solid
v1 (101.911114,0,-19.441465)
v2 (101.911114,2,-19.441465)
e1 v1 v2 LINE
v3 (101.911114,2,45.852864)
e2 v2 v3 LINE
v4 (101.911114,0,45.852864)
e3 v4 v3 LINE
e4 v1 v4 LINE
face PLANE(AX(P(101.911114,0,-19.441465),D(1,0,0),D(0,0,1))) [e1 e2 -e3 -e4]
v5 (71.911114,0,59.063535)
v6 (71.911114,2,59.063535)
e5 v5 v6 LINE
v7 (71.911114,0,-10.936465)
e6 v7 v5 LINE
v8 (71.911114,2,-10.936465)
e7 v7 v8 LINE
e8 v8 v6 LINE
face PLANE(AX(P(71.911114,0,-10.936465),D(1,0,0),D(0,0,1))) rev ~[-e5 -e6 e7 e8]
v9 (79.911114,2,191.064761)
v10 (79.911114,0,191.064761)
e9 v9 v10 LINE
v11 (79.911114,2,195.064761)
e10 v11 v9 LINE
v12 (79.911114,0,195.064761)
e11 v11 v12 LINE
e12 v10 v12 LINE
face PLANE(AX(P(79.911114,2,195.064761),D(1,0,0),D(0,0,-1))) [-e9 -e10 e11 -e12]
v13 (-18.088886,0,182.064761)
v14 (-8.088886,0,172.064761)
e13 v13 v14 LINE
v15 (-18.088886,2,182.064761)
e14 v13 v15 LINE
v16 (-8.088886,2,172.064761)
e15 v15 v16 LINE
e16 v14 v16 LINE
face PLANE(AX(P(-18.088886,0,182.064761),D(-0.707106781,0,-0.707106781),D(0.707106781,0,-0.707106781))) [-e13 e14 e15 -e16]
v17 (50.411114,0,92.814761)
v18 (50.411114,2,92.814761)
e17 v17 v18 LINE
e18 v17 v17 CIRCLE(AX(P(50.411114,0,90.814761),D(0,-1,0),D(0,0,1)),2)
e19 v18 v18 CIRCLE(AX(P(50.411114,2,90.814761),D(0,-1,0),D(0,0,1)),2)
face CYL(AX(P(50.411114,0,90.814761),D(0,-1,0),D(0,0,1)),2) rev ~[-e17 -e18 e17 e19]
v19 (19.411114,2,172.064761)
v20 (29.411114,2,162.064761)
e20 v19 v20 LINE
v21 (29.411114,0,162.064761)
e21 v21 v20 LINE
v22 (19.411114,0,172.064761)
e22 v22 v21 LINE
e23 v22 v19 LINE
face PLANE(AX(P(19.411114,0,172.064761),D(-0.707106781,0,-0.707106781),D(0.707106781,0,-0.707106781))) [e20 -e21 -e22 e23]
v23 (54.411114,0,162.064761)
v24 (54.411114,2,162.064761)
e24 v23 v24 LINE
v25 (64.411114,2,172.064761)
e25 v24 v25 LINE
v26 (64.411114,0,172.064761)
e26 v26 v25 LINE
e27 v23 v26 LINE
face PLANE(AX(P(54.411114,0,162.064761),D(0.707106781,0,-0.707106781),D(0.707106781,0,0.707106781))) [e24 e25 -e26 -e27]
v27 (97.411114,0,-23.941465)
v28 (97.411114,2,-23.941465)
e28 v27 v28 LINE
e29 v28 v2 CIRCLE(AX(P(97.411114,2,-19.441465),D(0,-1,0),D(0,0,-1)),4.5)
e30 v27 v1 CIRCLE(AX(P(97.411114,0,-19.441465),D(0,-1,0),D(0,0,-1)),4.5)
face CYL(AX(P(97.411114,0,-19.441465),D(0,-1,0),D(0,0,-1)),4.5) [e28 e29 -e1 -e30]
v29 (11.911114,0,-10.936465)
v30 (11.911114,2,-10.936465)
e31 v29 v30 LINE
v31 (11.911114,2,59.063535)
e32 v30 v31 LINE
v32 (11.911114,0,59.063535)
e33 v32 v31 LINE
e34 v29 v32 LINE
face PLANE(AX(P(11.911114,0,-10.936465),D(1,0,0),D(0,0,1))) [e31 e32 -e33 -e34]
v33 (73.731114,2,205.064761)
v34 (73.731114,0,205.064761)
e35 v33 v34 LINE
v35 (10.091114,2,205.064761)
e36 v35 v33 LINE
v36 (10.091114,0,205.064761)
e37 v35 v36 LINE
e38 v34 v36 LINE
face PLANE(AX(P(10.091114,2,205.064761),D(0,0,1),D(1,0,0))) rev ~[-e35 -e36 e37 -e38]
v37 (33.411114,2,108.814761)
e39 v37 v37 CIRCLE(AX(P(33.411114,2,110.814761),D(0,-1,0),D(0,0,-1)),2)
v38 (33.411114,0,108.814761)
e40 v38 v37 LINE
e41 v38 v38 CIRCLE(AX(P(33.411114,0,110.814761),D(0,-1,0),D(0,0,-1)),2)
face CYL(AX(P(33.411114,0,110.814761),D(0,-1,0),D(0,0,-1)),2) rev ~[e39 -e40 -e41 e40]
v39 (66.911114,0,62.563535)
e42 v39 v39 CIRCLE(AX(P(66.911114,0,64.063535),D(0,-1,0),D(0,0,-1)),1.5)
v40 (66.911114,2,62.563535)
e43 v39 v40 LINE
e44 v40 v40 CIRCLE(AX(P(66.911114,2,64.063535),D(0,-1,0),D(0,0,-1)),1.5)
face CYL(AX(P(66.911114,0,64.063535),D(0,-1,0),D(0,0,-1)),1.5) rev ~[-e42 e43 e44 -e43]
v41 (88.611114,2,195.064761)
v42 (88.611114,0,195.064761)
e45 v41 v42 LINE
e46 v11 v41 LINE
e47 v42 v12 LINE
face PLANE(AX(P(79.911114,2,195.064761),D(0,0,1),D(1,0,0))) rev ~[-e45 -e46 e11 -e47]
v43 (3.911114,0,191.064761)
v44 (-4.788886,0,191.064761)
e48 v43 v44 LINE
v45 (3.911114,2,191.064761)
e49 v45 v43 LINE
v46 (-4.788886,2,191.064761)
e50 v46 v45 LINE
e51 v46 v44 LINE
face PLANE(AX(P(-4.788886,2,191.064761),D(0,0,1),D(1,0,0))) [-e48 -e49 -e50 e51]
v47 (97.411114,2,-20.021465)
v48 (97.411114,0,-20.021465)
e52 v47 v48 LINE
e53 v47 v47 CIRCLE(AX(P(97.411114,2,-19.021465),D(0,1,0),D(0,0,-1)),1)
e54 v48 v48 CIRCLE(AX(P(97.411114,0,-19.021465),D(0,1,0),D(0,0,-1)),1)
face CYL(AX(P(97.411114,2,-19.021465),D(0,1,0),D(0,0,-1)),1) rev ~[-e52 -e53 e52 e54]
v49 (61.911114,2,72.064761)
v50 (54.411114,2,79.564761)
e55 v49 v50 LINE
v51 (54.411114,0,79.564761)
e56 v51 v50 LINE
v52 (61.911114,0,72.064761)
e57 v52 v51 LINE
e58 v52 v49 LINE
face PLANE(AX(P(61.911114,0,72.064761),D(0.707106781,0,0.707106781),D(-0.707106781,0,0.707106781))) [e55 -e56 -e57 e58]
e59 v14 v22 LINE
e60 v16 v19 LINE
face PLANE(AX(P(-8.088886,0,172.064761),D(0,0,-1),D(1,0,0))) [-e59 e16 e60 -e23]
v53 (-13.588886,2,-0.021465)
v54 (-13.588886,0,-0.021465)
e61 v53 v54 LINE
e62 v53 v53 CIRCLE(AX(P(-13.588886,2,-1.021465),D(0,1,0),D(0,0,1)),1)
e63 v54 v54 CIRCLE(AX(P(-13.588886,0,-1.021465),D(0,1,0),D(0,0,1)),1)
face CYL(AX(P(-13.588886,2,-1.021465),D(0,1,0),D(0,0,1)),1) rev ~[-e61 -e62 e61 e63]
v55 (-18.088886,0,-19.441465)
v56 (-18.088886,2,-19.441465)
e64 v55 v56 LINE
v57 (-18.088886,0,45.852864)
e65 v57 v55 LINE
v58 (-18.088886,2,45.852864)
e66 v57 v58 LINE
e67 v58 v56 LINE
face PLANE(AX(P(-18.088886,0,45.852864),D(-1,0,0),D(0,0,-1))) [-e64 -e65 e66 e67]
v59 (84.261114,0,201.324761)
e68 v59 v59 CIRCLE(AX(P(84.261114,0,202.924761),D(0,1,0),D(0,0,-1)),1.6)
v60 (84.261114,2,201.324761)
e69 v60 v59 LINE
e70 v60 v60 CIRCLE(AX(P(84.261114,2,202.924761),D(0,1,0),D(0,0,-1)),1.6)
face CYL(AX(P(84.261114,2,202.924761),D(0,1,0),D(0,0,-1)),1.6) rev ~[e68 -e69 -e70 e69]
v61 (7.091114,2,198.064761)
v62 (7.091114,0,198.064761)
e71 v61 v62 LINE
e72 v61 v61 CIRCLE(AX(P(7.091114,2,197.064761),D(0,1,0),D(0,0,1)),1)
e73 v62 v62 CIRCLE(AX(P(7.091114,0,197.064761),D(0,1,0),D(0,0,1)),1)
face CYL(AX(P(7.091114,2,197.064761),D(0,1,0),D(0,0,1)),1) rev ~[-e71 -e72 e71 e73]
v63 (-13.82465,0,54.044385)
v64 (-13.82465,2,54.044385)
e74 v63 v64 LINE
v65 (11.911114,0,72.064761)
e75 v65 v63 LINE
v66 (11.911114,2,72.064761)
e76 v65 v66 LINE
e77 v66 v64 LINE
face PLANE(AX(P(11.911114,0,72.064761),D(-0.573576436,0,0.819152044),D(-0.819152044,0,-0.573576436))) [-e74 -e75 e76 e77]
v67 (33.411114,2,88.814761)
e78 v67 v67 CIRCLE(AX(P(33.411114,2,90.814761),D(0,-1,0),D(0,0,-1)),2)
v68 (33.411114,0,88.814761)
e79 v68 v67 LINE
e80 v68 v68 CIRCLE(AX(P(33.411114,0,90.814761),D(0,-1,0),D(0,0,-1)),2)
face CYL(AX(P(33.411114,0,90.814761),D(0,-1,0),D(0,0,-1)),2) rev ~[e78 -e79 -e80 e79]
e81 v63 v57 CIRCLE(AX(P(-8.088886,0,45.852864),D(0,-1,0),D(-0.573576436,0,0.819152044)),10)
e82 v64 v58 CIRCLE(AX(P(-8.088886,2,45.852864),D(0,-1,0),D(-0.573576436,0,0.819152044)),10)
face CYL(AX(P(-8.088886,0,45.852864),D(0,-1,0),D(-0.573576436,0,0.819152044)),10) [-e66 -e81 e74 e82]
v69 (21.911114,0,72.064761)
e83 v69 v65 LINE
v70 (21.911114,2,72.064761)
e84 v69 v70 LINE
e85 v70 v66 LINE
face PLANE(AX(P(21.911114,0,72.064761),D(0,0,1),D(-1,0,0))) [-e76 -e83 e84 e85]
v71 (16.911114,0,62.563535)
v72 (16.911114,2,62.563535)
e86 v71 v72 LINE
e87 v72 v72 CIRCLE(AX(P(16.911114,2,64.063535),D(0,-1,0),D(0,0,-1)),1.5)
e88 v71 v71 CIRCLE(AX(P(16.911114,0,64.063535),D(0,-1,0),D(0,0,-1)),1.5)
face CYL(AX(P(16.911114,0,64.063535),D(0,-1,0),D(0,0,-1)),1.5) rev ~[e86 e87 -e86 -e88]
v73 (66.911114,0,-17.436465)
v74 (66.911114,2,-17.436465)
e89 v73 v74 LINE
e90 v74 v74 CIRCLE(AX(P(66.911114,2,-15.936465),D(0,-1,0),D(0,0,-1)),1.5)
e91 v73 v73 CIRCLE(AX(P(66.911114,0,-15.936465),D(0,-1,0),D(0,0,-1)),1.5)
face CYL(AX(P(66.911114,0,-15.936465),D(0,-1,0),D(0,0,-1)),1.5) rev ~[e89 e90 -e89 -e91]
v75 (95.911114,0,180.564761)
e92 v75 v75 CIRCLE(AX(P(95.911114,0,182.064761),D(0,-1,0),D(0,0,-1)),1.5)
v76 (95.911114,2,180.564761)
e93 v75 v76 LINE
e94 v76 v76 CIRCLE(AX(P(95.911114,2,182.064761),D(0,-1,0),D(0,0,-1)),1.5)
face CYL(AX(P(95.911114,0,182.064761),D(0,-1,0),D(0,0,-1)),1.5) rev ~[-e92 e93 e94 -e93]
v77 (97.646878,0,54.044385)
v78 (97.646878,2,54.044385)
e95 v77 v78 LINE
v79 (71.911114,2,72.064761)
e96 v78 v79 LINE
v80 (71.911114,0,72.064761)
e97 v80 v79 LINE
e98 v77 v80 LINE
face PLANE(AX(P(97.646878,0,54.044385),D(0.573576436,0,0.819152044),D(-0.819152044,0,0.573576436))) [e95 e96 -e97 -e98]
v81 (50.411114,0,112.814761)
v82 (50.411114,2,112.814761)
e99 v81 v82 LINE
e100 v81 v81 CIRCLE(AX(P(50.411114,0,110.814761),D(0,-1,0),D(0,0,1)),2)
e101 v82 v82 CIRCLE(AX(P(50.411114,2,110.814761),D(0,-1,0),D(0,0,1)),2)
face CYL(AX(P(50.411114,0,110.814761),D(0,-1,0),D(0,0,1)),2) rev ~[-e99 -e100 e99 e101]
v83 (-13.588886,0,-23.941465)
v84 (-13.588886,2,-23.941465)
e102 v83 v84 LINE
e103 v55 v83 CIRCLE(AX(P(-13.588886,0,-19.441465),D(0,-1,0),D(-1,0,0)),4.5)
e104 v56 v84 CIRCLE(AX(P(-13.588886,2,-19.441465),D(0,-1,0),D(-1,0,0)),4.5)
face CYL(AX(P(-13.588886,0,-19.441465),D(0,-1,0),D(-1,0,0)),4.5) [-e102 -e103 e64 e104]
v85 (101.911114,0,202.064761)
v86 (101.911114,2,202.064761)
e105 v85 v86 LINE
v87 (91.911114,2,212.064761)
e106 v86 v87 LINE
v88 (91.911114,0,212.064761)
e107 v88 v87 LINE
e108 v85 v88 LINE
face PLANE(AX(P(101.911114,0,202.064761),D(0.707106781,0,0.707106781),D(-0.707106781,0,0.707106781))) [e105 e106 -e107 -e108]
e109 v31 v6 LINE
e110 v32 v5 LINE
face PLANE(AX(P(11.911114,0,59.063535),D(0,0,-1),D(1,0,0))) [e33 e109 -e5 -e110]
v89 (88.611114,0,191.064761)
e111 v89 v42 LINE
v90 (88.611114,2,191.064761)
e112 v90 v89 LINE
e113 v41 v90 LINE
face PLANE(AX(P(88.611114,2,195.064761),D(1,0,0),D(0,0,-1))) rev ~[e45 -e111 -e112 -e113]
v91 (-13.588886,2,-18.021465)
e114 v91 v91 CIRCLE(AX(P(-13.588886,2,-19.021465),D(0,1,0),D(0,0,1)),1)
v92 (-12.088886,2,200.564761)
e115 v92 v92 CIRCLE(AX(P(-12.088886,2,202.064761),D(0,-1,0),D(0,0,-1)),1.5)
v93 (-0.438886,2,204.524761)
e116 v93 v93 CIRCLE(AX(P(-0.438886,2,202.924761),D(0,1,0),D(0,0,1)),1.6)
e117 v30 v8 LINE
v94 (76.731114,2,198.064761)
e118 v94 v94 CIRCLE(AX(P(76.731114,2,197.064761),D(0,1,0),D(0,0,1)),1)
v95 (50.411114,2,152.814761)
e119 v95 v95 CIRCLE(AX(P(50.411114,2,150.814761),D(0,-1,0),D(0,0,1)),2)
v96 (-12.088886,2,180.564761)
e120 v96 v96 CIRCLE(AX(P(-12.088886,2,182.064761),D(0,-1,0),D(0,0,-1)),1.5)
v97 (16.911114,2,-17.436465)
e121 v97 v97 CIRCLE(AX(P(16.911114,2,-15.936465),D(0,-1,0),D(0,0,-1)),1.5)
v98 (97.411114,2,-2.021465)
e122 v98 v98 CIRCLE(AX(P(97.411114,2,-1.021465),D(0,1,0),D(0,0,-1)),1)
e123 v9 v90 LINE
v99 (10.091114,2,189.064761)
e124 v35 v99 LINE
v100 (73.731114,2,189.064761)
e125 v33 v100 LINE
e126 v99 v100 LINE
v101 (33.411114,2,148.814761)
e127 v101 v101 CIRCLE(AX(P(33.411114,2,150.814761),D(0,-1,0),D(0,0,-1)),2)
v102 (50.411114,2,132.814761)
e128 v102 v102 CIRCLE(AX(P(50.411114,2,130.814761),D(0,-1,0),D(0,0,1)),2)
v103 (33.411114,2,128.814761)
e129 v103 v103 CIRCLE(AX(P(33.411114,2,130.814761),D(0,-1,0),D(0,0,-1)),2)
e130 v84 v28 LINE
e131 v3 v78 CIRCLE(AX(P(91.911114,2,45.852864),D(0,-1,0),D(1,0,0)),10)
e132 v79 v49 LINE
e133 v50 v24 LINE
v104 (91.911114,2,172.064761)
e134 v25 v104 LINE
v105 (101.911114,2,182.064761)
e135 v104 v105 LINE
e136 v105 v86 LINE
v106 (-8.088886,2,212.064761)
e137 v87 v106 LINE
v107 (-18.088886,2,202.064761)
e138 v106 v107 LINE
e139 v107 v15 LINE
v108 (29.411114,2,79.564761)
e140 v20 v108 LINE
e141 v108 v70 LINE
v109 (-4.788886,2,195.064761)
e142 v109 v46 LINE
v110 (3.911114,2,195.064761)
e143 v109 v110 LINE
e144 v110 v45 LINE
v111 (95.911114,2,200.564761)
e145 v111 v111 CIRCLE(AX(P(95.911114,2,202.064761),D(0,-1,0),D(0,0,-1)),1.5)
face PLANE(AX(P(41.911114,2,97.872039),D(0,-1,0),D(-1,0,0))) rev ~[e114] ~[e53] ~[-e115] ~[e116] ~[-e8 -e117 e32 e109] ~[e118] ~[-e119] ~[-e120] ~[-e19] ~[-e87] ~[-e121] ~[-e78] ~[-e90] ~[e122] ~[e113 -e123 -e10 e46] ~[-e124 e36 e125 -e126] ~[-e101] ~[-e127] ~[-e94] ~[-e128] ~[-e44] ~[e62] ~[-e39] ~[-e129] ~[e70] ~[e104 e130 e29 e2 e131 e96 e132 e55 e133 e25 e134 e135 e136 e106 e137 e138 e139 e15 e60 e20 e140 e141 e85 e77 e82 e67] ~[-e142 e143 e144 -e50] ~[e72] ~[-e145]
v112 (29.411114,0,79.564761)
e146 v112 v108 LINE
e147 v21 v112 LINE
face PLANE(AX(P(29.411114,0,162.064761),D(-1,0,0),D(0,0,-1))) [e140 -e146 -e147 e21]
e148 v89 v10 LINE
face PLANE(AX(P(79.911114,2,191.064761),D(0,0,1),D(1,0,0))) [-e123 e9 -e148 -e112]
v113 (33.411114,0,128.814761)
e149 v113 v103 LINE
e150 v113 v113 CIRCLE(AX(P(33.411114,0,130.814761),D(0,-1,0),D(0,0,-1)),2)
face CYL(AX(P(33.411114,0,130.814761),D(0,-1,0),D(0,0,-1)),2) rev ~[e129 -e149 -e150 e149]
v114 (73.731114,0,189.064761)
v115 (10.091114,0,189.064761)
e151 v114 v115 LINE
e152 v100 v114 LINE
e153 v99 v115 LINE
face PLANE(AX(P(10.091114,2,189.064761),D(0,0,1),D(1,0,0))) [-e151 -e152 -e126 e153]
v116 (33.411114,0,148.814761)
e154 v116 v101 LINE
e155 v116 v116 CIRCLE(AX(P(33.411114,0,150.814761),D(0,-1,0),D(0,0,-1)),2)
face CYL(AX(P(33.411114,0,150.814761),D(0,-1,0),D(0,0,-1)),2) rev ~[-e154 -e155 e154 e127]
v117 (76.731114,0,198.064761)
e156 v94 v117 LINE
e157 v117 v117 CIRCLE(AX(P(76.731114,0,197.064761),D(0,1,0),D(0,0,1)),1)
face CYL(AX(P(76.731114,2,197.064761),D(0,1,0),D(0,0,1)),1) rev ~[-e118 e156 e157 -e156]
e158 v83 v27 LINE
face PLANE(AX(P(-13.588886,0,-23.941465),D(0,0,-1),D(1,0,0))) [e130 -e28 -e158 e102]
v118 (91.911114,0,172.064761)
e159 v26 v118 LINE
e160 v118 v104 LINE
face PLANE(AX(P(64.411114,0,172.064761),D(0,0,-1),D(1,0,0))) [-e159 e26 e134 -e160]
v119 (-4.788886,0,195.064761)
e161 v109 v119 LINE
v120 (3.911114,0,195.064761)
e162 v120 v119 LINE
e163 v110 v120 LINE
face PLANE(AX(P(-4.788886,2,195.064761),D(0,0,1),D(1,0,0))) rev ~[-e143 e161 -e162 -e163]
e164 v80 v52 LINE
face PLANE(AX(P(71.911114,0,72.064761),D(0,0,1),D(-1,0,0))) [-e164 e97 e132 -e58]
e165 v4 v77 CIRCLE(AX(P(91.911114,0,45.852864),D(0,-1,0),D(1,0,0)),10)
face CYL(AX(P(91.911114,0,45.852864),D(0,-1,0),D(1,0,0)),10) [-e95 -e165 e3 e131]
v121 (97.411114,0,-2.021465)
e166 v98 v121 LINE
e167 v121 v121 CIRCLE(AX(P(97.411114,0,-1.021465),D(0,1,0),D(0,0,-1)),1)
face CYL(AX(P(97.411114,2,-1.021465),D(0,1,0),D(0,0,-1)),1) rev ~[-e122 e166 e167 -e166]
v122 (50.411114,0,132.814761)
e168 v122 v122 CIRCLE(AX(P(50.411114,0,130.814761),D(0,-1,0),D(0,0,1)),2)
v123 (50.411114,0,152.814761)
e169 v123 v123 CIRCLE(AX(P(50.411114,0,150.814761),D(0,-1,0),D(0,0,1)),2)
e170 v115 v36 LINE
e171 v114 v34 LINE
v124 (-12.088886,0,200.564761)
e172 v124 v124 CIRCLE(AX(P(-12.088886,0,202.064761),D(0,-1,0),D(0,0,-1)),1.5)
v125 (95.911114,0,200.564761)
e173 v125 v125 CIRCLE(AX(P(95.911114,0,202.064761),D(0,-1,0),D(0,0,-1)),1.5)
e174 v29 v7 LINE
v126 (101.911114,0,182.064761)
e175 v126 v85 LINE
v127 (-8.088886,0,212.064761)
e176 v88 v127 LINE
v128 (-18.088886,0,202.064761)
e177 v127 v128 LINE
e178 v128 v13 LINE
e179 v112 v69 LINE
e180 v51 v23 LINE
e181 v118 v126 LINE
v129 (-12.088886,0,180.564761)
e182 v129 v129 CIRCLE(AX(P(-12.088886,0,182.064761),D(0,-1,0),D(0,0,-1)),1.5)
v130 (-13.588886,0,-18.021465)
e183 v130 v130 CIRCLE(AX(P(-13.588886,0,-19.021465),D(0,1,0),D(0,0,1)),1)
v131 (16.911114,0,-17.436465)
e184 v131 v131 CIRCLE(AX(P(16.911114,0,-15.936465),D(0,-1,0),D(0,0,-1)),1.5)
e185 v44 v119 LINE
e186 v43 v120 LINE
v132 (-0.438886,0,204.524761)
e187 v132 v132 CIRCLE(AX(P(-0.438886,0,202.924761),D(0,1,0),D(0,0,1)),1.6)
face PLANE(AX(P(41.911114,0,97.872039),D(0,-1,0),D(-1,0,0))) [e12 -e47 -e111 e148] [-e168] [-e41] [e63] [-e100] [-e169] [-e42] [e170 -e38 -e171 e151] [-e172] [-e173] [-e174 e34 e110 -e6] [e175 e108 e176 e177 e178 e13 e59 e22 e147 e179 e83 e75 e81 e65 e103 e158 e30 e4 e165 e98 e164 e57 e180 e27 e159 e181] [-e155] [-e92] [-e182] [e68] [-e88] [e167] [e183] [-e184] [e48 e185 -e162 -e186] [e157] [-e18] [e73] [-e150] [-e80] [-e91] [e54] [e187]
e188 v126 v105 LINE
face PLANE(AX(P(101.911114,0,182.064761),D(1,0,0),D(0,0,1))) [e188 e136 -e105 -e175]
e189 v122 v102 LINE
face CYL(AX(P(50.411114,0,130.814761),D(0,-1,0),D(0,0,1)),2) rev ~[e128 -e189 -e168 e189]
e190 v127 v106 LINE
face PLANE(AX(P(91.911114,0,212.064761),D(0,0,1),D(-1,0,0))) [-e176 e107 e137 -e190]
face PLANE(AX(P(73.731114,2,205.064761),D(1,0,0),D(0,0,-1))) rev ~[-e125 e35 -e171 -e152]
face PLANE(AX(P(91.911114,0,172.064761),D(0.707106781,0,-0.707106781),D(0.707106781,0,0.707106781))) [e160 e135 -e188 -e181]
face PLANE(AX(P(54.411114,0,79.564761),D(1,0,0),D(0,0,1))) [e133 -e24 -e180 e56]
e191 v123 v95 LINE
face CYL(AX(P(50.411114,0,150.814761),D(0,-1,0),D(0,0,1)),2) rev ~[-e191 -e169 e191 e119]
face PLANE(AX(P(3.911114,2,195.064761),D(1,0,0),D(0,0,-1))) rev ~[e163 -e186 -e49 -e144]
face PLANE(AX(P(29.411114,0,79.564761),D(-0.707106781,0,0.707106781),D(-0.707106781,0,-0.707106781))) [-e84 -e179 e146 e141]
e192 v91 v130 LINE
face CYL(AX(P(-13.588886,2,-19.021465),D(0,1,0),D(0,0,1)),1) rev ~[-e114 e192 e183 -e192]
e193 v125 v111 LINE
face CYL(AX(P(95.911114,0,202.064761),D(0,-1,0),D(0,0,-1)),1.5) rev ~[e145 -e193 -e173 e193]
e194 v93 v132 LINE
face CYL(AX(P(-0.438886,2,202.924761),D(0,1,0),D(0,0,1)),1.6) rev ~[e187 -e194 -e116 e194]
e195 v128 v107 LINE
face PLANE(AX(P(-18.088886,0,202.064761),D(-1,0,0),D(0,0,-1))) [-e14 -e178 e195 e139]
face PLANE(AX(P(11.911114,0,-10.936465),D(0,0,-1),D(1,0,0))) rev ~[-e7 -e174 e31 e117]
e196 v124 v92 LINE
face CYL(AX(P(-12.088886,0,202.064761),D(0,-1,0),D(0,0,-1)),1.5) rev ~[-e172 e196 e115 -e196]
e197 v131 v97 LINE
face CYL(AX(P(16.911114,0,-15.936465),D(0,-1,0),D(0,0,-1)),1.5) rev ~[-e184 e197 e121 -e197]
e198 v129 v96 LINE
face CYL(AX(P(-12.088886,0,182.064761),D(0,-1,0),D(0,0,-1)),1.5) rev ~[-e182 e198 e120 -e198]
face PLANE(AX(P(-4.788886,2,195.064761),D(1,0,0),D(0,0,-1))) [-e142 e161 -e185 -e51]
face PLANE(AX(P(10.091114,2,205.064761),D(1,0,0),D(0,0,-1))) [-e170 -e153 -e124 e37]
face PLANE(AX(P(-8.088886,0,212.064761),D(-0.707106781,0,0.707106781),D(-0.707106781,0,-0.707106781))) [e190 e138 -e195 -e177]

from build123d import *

# Parameters (mm, degrees)
BASE_DEPTH               = 2
ESBO_O2_R                = 1
FURO_BRACKET_MOTOR_DEPTH = 3
ESBO_O4_W                = 60
ESBO_O4_H                = 70
ENCAIXE_PCB_DEPTH        = 236.289901939
ESBO_O6_R                = 1.5
PARAFUSO_PCB_DEPTH       = 236.289901939
ESBO_O7_R                = 2
ENFORCA_GATO_DEPTH       = 236.289901939
ESBO_O8_R                = 1.5
PARAFUSO_APOIO_DEPTH     = 10
ESBO_O9_R                = 1
ESBO_O9_R_2              = 1.6
ESBO_O9_W                = 63.64
ESBO_O9_H                = 16
ESBO_O9_W_2              = 8.7
ESBO_O9_H_2              = 4
CORTE_EXTRUS_O1_DEPTH    = 10


with BuildPart() as part:
    # Esboço1 → Base (new body)
    with BuildSketch(Plane(origin=(0, 0, 0), x_dir=(1, 0, 0), z_dir=(0, 1, 0))):
        with BuildLine():
            Line((-18.088885989, 17.941465294), (-18.088885989, 19.441465294))
            ThreePointArc((-18.088885989, 19.441465294), (-16.770866504, 22.623445809), (-13.588885989, 23.941465294))
            Line((-13.588885989, 23.941465294), (97.411114011, 23.941465294))
            ThreePointArc((97.411114011, 23.941465294), (100.593094526, 22.623445809), (101.911114011, 19.441465294))
            Line((101.911114011, 19.441465294), (101.911114011, 17.941465294))
            Line((101.911114011, 17.941465294), (101.911114011, -45.8528642))
            ThreePointArc((101.911114011, -45.8528642), (100.781222343, -50.470350333), (97.646878374, -54.044384643))
            Line((97.646878374, -54.044384643), (71.911114011, -72.064760852))
            Line((71.911114011, -72.064760852), (61.911114011, -72.064760852))
            Line((61.911114011, -72.064760852), (54.411114011, -79.564760852))
            Line((54.411114011, -79.564760852), (54.411114011, -162.064760852))
            Line((54.411114011, -162.064760852), (64.411114011, -172.064760852))
            Line((64.411114011, -172.064760852), (91.911114011, -172.064760852))
            Line((91.911114011, -172.064760852), (101.911114011, -182.064760852))
            Line((101.911114011, -182.064760852), (101.911114011, -202.064760852))
            Line((101.911114011, -202.064760852), (91.911114011, -212.064760852))
            Line((91.911114011, -212.064760852), (-8.088885989, -212.064760852))
            Line((-8.088885989, -212.064760852), (-18.088885989, -202.064760852))
            Line((-18.088885989, -202.064760852), (-18.088885989, -182.064760852))
            Line((-18.088885989, -182.064760852), (-8.088885989, -172.064760852))
            Line((-8.088885989, -172.064760852), (19.411114011, -172.064760852))
            Line((19.411114011, -172.064760852), (29.411114011, -162.064760852))
            Line((29.411114011, -162.064760852), (29.411114011, -79.564760852))
            Line((29.411114011, -79.564760852), (21.911114011, -72.064760852))
            Line((21.911114011, -72.064760852), (11.911114011, -72.064760852))
            Line((11.911114011, -72.064760852), (-13.824650353, -54.044384643))
            ThreePointArc((-13.824650353, -54.044384643), (-16.958994321, -50.470350333), (-18.088885989, -45.8528642))
            Line((-18.088885989, -45.8528642), (-18.088885989, 17.941465294))
        make_face()
    extrude(amount=BASE_DEPTH)

    # Esboço2 → Furo Bracket Motor (cut)
    with BuildSketch(Plane(origin=(0, 2, 0), x_dir=(1, 0, 0), z_dir=(0, 1, 0))):
        with Locations(Location((-13.588885989, 19.021465294, 0), (0, 0, 270))):
            Circle(ESBO_O2_R)
        with Locations(Location((-13.588885989, 1.021465294, 0), (0, 0, 270))):
            Circle(ESBO_O2_R)
        with Locations(Location((97.411114011, 1.021465294, 0), (0, 0, 90))):
            Circle(ESBO_O2_R)
        with Locations(Location((97.411114011, 19.021465294, 0), (0, 0, 90))):
            Circle(ESBO_O2_R)
    extrude(amount=-FURO_BRACKET_MOTOR_DEPTH, mode=Mode.SUBTRACT)

    # Esboço4 → Encaixe PCB (cut, through all)
    with BuildSketch(Plane.XZ):
        with Locations((41.911114011, 24.063534706)):
            Rectangle(ESBO_O4_W, ESBO_O4_H)
    extrude(amount=-ENCAIXE_PCB_DEPTH, mode=Mode.SUBTRACT)

    # Esboço6 → Parafuso PCB (cut, through all)
    with BuildSketch(Plane.XZ):
        with Locations(Location((16.911114011, 64.063534706, 0), (0, 0, 270))):
            Circle(ESBO_O6_R)
        with Locations(Location((66.911114011, 64.063534706, 0), (0, 0, 270))):
            Circle(ESBO_O6_R)
        with Locations(Location((66.911114011, -15.936465294, 0), (0, 0, 270))):
            Circle(ESBO_O6_R)
        with Locations(Location((16.911114011, -15.936465294, 0), (0, 0, 270))):
            Circle(ESBO_O6_R)
    extrude(amount=-PARAFUSO_PCB_DEPTH, mode=Mode.SUBTRACT)

    # Esboço7 → Enforca Gato (cut, through all)
    with BuildSketch(Plane.XZ):
        with Locations(Location((33.411114011, 90.814760852, 0), (0, 0, 270))):
            Circle(ESBO_O7_R)
        with Locations(Location((33.411114011, 110.814760852, 0), (0, 0, 270))):
            Circle(ESBO_O7_R)
        with Locations(Location((33.411114011, 130.814760852, 0), (0, 0, 270))):
            Circle(ESBO_O7_R)
        with Locations(Location((33.411114011, 150.814760852, 0), (0, 0, 270))):
            Circle(ESBO_O7_R)
        with Locations(Location((50.411114011, 150.814760852, 0), (0, 0, 90))):
            Circle(ESBO_O7_R)
        with Locations(Location((50.411114011, 130.814760852, 0), (0, 0, 90))):
            Circle(ESBO_O7_R)
        with Locations(Location((50.411114011, 110.814760852, 0), (0, 0, 90))):
            Circle(ESBO_O7_R)
        with Locations(Location((50.411114011, 90.814760852, 0), (0, 0, 90))):
            Circle(ESBO_O7_R)
    extrude(amount=-ENFORCA_GATO_DEPTH, mode=Mode.SUBTRACT)

    # Esboço8 → Parafuso Apoio (cut)
    with BuildSketch(Plane.XZ):
        with Locations(Location((95.911114011, 182.064760852, 0), (0, 0, 270))):
            Circle(ESBO_O8_R)
        with Locations(Location((95.911114011, 202.064760852, 0), (0, 0, 270))):
            Circle(ESBO_O8_R)
        with Locations(Location((-12.088885989, 202.064760852, 0), (0, 0, 270))):
            Circle(ESBO_O8_R)
        with Locations(Location((-12.088885989, 182.064760852, 0), (0, 0, 270))):
            Circle(ESBO_O8_R)
    extrude(amount=-PARAFUSO_APOIO_DEPTH, mode=Mode.SUBTRACT)

    # Esboço9 → Corte-extrusão1 (cut)
    with BuildSketch(Plane(origin=(0, 2, 0), x_dir=(1, 0, 0), z_dir=(0, 1, 0))):
        with Locations(Location((76.731114011, -197.064760852, 0), (0, 0, 270))):
            Circle(ESBO_O9_R)
        with Locations(Location((7.091114011, -197.064760852, 0), (0, 0, 270))):
            Circle(ESBO_O9_R)
        with Locations(Location((-0.438885989, -202.924760852, 0), (0, 0, 270))):
            Circle(ESBO_O9_R_2)
        with Locations(Location((84.261114011, -202.924760852, 0), (0, 0, 90))):
            Circle(ESBO_O9_R_2)
        with Locations((41.911114011, -197.064760852)):
            Rectangle(ESBO_O9_W, ESBO_O9_H)
        with Locations((-0.438885989, -193.064760852)):
            Rectangle(ESBO_O9_W_2, ESBO_O9_H_2)
        with Locations((84.261114011, -193.064760852)):
            Rectangle(ESBO_O9_W_2, ESBO_O9_H_2)
    extrude(amount=-CORTE_EXTRUS_O1_DEPTH, mode=Mode.SUBTRACT)


solid = part.part
